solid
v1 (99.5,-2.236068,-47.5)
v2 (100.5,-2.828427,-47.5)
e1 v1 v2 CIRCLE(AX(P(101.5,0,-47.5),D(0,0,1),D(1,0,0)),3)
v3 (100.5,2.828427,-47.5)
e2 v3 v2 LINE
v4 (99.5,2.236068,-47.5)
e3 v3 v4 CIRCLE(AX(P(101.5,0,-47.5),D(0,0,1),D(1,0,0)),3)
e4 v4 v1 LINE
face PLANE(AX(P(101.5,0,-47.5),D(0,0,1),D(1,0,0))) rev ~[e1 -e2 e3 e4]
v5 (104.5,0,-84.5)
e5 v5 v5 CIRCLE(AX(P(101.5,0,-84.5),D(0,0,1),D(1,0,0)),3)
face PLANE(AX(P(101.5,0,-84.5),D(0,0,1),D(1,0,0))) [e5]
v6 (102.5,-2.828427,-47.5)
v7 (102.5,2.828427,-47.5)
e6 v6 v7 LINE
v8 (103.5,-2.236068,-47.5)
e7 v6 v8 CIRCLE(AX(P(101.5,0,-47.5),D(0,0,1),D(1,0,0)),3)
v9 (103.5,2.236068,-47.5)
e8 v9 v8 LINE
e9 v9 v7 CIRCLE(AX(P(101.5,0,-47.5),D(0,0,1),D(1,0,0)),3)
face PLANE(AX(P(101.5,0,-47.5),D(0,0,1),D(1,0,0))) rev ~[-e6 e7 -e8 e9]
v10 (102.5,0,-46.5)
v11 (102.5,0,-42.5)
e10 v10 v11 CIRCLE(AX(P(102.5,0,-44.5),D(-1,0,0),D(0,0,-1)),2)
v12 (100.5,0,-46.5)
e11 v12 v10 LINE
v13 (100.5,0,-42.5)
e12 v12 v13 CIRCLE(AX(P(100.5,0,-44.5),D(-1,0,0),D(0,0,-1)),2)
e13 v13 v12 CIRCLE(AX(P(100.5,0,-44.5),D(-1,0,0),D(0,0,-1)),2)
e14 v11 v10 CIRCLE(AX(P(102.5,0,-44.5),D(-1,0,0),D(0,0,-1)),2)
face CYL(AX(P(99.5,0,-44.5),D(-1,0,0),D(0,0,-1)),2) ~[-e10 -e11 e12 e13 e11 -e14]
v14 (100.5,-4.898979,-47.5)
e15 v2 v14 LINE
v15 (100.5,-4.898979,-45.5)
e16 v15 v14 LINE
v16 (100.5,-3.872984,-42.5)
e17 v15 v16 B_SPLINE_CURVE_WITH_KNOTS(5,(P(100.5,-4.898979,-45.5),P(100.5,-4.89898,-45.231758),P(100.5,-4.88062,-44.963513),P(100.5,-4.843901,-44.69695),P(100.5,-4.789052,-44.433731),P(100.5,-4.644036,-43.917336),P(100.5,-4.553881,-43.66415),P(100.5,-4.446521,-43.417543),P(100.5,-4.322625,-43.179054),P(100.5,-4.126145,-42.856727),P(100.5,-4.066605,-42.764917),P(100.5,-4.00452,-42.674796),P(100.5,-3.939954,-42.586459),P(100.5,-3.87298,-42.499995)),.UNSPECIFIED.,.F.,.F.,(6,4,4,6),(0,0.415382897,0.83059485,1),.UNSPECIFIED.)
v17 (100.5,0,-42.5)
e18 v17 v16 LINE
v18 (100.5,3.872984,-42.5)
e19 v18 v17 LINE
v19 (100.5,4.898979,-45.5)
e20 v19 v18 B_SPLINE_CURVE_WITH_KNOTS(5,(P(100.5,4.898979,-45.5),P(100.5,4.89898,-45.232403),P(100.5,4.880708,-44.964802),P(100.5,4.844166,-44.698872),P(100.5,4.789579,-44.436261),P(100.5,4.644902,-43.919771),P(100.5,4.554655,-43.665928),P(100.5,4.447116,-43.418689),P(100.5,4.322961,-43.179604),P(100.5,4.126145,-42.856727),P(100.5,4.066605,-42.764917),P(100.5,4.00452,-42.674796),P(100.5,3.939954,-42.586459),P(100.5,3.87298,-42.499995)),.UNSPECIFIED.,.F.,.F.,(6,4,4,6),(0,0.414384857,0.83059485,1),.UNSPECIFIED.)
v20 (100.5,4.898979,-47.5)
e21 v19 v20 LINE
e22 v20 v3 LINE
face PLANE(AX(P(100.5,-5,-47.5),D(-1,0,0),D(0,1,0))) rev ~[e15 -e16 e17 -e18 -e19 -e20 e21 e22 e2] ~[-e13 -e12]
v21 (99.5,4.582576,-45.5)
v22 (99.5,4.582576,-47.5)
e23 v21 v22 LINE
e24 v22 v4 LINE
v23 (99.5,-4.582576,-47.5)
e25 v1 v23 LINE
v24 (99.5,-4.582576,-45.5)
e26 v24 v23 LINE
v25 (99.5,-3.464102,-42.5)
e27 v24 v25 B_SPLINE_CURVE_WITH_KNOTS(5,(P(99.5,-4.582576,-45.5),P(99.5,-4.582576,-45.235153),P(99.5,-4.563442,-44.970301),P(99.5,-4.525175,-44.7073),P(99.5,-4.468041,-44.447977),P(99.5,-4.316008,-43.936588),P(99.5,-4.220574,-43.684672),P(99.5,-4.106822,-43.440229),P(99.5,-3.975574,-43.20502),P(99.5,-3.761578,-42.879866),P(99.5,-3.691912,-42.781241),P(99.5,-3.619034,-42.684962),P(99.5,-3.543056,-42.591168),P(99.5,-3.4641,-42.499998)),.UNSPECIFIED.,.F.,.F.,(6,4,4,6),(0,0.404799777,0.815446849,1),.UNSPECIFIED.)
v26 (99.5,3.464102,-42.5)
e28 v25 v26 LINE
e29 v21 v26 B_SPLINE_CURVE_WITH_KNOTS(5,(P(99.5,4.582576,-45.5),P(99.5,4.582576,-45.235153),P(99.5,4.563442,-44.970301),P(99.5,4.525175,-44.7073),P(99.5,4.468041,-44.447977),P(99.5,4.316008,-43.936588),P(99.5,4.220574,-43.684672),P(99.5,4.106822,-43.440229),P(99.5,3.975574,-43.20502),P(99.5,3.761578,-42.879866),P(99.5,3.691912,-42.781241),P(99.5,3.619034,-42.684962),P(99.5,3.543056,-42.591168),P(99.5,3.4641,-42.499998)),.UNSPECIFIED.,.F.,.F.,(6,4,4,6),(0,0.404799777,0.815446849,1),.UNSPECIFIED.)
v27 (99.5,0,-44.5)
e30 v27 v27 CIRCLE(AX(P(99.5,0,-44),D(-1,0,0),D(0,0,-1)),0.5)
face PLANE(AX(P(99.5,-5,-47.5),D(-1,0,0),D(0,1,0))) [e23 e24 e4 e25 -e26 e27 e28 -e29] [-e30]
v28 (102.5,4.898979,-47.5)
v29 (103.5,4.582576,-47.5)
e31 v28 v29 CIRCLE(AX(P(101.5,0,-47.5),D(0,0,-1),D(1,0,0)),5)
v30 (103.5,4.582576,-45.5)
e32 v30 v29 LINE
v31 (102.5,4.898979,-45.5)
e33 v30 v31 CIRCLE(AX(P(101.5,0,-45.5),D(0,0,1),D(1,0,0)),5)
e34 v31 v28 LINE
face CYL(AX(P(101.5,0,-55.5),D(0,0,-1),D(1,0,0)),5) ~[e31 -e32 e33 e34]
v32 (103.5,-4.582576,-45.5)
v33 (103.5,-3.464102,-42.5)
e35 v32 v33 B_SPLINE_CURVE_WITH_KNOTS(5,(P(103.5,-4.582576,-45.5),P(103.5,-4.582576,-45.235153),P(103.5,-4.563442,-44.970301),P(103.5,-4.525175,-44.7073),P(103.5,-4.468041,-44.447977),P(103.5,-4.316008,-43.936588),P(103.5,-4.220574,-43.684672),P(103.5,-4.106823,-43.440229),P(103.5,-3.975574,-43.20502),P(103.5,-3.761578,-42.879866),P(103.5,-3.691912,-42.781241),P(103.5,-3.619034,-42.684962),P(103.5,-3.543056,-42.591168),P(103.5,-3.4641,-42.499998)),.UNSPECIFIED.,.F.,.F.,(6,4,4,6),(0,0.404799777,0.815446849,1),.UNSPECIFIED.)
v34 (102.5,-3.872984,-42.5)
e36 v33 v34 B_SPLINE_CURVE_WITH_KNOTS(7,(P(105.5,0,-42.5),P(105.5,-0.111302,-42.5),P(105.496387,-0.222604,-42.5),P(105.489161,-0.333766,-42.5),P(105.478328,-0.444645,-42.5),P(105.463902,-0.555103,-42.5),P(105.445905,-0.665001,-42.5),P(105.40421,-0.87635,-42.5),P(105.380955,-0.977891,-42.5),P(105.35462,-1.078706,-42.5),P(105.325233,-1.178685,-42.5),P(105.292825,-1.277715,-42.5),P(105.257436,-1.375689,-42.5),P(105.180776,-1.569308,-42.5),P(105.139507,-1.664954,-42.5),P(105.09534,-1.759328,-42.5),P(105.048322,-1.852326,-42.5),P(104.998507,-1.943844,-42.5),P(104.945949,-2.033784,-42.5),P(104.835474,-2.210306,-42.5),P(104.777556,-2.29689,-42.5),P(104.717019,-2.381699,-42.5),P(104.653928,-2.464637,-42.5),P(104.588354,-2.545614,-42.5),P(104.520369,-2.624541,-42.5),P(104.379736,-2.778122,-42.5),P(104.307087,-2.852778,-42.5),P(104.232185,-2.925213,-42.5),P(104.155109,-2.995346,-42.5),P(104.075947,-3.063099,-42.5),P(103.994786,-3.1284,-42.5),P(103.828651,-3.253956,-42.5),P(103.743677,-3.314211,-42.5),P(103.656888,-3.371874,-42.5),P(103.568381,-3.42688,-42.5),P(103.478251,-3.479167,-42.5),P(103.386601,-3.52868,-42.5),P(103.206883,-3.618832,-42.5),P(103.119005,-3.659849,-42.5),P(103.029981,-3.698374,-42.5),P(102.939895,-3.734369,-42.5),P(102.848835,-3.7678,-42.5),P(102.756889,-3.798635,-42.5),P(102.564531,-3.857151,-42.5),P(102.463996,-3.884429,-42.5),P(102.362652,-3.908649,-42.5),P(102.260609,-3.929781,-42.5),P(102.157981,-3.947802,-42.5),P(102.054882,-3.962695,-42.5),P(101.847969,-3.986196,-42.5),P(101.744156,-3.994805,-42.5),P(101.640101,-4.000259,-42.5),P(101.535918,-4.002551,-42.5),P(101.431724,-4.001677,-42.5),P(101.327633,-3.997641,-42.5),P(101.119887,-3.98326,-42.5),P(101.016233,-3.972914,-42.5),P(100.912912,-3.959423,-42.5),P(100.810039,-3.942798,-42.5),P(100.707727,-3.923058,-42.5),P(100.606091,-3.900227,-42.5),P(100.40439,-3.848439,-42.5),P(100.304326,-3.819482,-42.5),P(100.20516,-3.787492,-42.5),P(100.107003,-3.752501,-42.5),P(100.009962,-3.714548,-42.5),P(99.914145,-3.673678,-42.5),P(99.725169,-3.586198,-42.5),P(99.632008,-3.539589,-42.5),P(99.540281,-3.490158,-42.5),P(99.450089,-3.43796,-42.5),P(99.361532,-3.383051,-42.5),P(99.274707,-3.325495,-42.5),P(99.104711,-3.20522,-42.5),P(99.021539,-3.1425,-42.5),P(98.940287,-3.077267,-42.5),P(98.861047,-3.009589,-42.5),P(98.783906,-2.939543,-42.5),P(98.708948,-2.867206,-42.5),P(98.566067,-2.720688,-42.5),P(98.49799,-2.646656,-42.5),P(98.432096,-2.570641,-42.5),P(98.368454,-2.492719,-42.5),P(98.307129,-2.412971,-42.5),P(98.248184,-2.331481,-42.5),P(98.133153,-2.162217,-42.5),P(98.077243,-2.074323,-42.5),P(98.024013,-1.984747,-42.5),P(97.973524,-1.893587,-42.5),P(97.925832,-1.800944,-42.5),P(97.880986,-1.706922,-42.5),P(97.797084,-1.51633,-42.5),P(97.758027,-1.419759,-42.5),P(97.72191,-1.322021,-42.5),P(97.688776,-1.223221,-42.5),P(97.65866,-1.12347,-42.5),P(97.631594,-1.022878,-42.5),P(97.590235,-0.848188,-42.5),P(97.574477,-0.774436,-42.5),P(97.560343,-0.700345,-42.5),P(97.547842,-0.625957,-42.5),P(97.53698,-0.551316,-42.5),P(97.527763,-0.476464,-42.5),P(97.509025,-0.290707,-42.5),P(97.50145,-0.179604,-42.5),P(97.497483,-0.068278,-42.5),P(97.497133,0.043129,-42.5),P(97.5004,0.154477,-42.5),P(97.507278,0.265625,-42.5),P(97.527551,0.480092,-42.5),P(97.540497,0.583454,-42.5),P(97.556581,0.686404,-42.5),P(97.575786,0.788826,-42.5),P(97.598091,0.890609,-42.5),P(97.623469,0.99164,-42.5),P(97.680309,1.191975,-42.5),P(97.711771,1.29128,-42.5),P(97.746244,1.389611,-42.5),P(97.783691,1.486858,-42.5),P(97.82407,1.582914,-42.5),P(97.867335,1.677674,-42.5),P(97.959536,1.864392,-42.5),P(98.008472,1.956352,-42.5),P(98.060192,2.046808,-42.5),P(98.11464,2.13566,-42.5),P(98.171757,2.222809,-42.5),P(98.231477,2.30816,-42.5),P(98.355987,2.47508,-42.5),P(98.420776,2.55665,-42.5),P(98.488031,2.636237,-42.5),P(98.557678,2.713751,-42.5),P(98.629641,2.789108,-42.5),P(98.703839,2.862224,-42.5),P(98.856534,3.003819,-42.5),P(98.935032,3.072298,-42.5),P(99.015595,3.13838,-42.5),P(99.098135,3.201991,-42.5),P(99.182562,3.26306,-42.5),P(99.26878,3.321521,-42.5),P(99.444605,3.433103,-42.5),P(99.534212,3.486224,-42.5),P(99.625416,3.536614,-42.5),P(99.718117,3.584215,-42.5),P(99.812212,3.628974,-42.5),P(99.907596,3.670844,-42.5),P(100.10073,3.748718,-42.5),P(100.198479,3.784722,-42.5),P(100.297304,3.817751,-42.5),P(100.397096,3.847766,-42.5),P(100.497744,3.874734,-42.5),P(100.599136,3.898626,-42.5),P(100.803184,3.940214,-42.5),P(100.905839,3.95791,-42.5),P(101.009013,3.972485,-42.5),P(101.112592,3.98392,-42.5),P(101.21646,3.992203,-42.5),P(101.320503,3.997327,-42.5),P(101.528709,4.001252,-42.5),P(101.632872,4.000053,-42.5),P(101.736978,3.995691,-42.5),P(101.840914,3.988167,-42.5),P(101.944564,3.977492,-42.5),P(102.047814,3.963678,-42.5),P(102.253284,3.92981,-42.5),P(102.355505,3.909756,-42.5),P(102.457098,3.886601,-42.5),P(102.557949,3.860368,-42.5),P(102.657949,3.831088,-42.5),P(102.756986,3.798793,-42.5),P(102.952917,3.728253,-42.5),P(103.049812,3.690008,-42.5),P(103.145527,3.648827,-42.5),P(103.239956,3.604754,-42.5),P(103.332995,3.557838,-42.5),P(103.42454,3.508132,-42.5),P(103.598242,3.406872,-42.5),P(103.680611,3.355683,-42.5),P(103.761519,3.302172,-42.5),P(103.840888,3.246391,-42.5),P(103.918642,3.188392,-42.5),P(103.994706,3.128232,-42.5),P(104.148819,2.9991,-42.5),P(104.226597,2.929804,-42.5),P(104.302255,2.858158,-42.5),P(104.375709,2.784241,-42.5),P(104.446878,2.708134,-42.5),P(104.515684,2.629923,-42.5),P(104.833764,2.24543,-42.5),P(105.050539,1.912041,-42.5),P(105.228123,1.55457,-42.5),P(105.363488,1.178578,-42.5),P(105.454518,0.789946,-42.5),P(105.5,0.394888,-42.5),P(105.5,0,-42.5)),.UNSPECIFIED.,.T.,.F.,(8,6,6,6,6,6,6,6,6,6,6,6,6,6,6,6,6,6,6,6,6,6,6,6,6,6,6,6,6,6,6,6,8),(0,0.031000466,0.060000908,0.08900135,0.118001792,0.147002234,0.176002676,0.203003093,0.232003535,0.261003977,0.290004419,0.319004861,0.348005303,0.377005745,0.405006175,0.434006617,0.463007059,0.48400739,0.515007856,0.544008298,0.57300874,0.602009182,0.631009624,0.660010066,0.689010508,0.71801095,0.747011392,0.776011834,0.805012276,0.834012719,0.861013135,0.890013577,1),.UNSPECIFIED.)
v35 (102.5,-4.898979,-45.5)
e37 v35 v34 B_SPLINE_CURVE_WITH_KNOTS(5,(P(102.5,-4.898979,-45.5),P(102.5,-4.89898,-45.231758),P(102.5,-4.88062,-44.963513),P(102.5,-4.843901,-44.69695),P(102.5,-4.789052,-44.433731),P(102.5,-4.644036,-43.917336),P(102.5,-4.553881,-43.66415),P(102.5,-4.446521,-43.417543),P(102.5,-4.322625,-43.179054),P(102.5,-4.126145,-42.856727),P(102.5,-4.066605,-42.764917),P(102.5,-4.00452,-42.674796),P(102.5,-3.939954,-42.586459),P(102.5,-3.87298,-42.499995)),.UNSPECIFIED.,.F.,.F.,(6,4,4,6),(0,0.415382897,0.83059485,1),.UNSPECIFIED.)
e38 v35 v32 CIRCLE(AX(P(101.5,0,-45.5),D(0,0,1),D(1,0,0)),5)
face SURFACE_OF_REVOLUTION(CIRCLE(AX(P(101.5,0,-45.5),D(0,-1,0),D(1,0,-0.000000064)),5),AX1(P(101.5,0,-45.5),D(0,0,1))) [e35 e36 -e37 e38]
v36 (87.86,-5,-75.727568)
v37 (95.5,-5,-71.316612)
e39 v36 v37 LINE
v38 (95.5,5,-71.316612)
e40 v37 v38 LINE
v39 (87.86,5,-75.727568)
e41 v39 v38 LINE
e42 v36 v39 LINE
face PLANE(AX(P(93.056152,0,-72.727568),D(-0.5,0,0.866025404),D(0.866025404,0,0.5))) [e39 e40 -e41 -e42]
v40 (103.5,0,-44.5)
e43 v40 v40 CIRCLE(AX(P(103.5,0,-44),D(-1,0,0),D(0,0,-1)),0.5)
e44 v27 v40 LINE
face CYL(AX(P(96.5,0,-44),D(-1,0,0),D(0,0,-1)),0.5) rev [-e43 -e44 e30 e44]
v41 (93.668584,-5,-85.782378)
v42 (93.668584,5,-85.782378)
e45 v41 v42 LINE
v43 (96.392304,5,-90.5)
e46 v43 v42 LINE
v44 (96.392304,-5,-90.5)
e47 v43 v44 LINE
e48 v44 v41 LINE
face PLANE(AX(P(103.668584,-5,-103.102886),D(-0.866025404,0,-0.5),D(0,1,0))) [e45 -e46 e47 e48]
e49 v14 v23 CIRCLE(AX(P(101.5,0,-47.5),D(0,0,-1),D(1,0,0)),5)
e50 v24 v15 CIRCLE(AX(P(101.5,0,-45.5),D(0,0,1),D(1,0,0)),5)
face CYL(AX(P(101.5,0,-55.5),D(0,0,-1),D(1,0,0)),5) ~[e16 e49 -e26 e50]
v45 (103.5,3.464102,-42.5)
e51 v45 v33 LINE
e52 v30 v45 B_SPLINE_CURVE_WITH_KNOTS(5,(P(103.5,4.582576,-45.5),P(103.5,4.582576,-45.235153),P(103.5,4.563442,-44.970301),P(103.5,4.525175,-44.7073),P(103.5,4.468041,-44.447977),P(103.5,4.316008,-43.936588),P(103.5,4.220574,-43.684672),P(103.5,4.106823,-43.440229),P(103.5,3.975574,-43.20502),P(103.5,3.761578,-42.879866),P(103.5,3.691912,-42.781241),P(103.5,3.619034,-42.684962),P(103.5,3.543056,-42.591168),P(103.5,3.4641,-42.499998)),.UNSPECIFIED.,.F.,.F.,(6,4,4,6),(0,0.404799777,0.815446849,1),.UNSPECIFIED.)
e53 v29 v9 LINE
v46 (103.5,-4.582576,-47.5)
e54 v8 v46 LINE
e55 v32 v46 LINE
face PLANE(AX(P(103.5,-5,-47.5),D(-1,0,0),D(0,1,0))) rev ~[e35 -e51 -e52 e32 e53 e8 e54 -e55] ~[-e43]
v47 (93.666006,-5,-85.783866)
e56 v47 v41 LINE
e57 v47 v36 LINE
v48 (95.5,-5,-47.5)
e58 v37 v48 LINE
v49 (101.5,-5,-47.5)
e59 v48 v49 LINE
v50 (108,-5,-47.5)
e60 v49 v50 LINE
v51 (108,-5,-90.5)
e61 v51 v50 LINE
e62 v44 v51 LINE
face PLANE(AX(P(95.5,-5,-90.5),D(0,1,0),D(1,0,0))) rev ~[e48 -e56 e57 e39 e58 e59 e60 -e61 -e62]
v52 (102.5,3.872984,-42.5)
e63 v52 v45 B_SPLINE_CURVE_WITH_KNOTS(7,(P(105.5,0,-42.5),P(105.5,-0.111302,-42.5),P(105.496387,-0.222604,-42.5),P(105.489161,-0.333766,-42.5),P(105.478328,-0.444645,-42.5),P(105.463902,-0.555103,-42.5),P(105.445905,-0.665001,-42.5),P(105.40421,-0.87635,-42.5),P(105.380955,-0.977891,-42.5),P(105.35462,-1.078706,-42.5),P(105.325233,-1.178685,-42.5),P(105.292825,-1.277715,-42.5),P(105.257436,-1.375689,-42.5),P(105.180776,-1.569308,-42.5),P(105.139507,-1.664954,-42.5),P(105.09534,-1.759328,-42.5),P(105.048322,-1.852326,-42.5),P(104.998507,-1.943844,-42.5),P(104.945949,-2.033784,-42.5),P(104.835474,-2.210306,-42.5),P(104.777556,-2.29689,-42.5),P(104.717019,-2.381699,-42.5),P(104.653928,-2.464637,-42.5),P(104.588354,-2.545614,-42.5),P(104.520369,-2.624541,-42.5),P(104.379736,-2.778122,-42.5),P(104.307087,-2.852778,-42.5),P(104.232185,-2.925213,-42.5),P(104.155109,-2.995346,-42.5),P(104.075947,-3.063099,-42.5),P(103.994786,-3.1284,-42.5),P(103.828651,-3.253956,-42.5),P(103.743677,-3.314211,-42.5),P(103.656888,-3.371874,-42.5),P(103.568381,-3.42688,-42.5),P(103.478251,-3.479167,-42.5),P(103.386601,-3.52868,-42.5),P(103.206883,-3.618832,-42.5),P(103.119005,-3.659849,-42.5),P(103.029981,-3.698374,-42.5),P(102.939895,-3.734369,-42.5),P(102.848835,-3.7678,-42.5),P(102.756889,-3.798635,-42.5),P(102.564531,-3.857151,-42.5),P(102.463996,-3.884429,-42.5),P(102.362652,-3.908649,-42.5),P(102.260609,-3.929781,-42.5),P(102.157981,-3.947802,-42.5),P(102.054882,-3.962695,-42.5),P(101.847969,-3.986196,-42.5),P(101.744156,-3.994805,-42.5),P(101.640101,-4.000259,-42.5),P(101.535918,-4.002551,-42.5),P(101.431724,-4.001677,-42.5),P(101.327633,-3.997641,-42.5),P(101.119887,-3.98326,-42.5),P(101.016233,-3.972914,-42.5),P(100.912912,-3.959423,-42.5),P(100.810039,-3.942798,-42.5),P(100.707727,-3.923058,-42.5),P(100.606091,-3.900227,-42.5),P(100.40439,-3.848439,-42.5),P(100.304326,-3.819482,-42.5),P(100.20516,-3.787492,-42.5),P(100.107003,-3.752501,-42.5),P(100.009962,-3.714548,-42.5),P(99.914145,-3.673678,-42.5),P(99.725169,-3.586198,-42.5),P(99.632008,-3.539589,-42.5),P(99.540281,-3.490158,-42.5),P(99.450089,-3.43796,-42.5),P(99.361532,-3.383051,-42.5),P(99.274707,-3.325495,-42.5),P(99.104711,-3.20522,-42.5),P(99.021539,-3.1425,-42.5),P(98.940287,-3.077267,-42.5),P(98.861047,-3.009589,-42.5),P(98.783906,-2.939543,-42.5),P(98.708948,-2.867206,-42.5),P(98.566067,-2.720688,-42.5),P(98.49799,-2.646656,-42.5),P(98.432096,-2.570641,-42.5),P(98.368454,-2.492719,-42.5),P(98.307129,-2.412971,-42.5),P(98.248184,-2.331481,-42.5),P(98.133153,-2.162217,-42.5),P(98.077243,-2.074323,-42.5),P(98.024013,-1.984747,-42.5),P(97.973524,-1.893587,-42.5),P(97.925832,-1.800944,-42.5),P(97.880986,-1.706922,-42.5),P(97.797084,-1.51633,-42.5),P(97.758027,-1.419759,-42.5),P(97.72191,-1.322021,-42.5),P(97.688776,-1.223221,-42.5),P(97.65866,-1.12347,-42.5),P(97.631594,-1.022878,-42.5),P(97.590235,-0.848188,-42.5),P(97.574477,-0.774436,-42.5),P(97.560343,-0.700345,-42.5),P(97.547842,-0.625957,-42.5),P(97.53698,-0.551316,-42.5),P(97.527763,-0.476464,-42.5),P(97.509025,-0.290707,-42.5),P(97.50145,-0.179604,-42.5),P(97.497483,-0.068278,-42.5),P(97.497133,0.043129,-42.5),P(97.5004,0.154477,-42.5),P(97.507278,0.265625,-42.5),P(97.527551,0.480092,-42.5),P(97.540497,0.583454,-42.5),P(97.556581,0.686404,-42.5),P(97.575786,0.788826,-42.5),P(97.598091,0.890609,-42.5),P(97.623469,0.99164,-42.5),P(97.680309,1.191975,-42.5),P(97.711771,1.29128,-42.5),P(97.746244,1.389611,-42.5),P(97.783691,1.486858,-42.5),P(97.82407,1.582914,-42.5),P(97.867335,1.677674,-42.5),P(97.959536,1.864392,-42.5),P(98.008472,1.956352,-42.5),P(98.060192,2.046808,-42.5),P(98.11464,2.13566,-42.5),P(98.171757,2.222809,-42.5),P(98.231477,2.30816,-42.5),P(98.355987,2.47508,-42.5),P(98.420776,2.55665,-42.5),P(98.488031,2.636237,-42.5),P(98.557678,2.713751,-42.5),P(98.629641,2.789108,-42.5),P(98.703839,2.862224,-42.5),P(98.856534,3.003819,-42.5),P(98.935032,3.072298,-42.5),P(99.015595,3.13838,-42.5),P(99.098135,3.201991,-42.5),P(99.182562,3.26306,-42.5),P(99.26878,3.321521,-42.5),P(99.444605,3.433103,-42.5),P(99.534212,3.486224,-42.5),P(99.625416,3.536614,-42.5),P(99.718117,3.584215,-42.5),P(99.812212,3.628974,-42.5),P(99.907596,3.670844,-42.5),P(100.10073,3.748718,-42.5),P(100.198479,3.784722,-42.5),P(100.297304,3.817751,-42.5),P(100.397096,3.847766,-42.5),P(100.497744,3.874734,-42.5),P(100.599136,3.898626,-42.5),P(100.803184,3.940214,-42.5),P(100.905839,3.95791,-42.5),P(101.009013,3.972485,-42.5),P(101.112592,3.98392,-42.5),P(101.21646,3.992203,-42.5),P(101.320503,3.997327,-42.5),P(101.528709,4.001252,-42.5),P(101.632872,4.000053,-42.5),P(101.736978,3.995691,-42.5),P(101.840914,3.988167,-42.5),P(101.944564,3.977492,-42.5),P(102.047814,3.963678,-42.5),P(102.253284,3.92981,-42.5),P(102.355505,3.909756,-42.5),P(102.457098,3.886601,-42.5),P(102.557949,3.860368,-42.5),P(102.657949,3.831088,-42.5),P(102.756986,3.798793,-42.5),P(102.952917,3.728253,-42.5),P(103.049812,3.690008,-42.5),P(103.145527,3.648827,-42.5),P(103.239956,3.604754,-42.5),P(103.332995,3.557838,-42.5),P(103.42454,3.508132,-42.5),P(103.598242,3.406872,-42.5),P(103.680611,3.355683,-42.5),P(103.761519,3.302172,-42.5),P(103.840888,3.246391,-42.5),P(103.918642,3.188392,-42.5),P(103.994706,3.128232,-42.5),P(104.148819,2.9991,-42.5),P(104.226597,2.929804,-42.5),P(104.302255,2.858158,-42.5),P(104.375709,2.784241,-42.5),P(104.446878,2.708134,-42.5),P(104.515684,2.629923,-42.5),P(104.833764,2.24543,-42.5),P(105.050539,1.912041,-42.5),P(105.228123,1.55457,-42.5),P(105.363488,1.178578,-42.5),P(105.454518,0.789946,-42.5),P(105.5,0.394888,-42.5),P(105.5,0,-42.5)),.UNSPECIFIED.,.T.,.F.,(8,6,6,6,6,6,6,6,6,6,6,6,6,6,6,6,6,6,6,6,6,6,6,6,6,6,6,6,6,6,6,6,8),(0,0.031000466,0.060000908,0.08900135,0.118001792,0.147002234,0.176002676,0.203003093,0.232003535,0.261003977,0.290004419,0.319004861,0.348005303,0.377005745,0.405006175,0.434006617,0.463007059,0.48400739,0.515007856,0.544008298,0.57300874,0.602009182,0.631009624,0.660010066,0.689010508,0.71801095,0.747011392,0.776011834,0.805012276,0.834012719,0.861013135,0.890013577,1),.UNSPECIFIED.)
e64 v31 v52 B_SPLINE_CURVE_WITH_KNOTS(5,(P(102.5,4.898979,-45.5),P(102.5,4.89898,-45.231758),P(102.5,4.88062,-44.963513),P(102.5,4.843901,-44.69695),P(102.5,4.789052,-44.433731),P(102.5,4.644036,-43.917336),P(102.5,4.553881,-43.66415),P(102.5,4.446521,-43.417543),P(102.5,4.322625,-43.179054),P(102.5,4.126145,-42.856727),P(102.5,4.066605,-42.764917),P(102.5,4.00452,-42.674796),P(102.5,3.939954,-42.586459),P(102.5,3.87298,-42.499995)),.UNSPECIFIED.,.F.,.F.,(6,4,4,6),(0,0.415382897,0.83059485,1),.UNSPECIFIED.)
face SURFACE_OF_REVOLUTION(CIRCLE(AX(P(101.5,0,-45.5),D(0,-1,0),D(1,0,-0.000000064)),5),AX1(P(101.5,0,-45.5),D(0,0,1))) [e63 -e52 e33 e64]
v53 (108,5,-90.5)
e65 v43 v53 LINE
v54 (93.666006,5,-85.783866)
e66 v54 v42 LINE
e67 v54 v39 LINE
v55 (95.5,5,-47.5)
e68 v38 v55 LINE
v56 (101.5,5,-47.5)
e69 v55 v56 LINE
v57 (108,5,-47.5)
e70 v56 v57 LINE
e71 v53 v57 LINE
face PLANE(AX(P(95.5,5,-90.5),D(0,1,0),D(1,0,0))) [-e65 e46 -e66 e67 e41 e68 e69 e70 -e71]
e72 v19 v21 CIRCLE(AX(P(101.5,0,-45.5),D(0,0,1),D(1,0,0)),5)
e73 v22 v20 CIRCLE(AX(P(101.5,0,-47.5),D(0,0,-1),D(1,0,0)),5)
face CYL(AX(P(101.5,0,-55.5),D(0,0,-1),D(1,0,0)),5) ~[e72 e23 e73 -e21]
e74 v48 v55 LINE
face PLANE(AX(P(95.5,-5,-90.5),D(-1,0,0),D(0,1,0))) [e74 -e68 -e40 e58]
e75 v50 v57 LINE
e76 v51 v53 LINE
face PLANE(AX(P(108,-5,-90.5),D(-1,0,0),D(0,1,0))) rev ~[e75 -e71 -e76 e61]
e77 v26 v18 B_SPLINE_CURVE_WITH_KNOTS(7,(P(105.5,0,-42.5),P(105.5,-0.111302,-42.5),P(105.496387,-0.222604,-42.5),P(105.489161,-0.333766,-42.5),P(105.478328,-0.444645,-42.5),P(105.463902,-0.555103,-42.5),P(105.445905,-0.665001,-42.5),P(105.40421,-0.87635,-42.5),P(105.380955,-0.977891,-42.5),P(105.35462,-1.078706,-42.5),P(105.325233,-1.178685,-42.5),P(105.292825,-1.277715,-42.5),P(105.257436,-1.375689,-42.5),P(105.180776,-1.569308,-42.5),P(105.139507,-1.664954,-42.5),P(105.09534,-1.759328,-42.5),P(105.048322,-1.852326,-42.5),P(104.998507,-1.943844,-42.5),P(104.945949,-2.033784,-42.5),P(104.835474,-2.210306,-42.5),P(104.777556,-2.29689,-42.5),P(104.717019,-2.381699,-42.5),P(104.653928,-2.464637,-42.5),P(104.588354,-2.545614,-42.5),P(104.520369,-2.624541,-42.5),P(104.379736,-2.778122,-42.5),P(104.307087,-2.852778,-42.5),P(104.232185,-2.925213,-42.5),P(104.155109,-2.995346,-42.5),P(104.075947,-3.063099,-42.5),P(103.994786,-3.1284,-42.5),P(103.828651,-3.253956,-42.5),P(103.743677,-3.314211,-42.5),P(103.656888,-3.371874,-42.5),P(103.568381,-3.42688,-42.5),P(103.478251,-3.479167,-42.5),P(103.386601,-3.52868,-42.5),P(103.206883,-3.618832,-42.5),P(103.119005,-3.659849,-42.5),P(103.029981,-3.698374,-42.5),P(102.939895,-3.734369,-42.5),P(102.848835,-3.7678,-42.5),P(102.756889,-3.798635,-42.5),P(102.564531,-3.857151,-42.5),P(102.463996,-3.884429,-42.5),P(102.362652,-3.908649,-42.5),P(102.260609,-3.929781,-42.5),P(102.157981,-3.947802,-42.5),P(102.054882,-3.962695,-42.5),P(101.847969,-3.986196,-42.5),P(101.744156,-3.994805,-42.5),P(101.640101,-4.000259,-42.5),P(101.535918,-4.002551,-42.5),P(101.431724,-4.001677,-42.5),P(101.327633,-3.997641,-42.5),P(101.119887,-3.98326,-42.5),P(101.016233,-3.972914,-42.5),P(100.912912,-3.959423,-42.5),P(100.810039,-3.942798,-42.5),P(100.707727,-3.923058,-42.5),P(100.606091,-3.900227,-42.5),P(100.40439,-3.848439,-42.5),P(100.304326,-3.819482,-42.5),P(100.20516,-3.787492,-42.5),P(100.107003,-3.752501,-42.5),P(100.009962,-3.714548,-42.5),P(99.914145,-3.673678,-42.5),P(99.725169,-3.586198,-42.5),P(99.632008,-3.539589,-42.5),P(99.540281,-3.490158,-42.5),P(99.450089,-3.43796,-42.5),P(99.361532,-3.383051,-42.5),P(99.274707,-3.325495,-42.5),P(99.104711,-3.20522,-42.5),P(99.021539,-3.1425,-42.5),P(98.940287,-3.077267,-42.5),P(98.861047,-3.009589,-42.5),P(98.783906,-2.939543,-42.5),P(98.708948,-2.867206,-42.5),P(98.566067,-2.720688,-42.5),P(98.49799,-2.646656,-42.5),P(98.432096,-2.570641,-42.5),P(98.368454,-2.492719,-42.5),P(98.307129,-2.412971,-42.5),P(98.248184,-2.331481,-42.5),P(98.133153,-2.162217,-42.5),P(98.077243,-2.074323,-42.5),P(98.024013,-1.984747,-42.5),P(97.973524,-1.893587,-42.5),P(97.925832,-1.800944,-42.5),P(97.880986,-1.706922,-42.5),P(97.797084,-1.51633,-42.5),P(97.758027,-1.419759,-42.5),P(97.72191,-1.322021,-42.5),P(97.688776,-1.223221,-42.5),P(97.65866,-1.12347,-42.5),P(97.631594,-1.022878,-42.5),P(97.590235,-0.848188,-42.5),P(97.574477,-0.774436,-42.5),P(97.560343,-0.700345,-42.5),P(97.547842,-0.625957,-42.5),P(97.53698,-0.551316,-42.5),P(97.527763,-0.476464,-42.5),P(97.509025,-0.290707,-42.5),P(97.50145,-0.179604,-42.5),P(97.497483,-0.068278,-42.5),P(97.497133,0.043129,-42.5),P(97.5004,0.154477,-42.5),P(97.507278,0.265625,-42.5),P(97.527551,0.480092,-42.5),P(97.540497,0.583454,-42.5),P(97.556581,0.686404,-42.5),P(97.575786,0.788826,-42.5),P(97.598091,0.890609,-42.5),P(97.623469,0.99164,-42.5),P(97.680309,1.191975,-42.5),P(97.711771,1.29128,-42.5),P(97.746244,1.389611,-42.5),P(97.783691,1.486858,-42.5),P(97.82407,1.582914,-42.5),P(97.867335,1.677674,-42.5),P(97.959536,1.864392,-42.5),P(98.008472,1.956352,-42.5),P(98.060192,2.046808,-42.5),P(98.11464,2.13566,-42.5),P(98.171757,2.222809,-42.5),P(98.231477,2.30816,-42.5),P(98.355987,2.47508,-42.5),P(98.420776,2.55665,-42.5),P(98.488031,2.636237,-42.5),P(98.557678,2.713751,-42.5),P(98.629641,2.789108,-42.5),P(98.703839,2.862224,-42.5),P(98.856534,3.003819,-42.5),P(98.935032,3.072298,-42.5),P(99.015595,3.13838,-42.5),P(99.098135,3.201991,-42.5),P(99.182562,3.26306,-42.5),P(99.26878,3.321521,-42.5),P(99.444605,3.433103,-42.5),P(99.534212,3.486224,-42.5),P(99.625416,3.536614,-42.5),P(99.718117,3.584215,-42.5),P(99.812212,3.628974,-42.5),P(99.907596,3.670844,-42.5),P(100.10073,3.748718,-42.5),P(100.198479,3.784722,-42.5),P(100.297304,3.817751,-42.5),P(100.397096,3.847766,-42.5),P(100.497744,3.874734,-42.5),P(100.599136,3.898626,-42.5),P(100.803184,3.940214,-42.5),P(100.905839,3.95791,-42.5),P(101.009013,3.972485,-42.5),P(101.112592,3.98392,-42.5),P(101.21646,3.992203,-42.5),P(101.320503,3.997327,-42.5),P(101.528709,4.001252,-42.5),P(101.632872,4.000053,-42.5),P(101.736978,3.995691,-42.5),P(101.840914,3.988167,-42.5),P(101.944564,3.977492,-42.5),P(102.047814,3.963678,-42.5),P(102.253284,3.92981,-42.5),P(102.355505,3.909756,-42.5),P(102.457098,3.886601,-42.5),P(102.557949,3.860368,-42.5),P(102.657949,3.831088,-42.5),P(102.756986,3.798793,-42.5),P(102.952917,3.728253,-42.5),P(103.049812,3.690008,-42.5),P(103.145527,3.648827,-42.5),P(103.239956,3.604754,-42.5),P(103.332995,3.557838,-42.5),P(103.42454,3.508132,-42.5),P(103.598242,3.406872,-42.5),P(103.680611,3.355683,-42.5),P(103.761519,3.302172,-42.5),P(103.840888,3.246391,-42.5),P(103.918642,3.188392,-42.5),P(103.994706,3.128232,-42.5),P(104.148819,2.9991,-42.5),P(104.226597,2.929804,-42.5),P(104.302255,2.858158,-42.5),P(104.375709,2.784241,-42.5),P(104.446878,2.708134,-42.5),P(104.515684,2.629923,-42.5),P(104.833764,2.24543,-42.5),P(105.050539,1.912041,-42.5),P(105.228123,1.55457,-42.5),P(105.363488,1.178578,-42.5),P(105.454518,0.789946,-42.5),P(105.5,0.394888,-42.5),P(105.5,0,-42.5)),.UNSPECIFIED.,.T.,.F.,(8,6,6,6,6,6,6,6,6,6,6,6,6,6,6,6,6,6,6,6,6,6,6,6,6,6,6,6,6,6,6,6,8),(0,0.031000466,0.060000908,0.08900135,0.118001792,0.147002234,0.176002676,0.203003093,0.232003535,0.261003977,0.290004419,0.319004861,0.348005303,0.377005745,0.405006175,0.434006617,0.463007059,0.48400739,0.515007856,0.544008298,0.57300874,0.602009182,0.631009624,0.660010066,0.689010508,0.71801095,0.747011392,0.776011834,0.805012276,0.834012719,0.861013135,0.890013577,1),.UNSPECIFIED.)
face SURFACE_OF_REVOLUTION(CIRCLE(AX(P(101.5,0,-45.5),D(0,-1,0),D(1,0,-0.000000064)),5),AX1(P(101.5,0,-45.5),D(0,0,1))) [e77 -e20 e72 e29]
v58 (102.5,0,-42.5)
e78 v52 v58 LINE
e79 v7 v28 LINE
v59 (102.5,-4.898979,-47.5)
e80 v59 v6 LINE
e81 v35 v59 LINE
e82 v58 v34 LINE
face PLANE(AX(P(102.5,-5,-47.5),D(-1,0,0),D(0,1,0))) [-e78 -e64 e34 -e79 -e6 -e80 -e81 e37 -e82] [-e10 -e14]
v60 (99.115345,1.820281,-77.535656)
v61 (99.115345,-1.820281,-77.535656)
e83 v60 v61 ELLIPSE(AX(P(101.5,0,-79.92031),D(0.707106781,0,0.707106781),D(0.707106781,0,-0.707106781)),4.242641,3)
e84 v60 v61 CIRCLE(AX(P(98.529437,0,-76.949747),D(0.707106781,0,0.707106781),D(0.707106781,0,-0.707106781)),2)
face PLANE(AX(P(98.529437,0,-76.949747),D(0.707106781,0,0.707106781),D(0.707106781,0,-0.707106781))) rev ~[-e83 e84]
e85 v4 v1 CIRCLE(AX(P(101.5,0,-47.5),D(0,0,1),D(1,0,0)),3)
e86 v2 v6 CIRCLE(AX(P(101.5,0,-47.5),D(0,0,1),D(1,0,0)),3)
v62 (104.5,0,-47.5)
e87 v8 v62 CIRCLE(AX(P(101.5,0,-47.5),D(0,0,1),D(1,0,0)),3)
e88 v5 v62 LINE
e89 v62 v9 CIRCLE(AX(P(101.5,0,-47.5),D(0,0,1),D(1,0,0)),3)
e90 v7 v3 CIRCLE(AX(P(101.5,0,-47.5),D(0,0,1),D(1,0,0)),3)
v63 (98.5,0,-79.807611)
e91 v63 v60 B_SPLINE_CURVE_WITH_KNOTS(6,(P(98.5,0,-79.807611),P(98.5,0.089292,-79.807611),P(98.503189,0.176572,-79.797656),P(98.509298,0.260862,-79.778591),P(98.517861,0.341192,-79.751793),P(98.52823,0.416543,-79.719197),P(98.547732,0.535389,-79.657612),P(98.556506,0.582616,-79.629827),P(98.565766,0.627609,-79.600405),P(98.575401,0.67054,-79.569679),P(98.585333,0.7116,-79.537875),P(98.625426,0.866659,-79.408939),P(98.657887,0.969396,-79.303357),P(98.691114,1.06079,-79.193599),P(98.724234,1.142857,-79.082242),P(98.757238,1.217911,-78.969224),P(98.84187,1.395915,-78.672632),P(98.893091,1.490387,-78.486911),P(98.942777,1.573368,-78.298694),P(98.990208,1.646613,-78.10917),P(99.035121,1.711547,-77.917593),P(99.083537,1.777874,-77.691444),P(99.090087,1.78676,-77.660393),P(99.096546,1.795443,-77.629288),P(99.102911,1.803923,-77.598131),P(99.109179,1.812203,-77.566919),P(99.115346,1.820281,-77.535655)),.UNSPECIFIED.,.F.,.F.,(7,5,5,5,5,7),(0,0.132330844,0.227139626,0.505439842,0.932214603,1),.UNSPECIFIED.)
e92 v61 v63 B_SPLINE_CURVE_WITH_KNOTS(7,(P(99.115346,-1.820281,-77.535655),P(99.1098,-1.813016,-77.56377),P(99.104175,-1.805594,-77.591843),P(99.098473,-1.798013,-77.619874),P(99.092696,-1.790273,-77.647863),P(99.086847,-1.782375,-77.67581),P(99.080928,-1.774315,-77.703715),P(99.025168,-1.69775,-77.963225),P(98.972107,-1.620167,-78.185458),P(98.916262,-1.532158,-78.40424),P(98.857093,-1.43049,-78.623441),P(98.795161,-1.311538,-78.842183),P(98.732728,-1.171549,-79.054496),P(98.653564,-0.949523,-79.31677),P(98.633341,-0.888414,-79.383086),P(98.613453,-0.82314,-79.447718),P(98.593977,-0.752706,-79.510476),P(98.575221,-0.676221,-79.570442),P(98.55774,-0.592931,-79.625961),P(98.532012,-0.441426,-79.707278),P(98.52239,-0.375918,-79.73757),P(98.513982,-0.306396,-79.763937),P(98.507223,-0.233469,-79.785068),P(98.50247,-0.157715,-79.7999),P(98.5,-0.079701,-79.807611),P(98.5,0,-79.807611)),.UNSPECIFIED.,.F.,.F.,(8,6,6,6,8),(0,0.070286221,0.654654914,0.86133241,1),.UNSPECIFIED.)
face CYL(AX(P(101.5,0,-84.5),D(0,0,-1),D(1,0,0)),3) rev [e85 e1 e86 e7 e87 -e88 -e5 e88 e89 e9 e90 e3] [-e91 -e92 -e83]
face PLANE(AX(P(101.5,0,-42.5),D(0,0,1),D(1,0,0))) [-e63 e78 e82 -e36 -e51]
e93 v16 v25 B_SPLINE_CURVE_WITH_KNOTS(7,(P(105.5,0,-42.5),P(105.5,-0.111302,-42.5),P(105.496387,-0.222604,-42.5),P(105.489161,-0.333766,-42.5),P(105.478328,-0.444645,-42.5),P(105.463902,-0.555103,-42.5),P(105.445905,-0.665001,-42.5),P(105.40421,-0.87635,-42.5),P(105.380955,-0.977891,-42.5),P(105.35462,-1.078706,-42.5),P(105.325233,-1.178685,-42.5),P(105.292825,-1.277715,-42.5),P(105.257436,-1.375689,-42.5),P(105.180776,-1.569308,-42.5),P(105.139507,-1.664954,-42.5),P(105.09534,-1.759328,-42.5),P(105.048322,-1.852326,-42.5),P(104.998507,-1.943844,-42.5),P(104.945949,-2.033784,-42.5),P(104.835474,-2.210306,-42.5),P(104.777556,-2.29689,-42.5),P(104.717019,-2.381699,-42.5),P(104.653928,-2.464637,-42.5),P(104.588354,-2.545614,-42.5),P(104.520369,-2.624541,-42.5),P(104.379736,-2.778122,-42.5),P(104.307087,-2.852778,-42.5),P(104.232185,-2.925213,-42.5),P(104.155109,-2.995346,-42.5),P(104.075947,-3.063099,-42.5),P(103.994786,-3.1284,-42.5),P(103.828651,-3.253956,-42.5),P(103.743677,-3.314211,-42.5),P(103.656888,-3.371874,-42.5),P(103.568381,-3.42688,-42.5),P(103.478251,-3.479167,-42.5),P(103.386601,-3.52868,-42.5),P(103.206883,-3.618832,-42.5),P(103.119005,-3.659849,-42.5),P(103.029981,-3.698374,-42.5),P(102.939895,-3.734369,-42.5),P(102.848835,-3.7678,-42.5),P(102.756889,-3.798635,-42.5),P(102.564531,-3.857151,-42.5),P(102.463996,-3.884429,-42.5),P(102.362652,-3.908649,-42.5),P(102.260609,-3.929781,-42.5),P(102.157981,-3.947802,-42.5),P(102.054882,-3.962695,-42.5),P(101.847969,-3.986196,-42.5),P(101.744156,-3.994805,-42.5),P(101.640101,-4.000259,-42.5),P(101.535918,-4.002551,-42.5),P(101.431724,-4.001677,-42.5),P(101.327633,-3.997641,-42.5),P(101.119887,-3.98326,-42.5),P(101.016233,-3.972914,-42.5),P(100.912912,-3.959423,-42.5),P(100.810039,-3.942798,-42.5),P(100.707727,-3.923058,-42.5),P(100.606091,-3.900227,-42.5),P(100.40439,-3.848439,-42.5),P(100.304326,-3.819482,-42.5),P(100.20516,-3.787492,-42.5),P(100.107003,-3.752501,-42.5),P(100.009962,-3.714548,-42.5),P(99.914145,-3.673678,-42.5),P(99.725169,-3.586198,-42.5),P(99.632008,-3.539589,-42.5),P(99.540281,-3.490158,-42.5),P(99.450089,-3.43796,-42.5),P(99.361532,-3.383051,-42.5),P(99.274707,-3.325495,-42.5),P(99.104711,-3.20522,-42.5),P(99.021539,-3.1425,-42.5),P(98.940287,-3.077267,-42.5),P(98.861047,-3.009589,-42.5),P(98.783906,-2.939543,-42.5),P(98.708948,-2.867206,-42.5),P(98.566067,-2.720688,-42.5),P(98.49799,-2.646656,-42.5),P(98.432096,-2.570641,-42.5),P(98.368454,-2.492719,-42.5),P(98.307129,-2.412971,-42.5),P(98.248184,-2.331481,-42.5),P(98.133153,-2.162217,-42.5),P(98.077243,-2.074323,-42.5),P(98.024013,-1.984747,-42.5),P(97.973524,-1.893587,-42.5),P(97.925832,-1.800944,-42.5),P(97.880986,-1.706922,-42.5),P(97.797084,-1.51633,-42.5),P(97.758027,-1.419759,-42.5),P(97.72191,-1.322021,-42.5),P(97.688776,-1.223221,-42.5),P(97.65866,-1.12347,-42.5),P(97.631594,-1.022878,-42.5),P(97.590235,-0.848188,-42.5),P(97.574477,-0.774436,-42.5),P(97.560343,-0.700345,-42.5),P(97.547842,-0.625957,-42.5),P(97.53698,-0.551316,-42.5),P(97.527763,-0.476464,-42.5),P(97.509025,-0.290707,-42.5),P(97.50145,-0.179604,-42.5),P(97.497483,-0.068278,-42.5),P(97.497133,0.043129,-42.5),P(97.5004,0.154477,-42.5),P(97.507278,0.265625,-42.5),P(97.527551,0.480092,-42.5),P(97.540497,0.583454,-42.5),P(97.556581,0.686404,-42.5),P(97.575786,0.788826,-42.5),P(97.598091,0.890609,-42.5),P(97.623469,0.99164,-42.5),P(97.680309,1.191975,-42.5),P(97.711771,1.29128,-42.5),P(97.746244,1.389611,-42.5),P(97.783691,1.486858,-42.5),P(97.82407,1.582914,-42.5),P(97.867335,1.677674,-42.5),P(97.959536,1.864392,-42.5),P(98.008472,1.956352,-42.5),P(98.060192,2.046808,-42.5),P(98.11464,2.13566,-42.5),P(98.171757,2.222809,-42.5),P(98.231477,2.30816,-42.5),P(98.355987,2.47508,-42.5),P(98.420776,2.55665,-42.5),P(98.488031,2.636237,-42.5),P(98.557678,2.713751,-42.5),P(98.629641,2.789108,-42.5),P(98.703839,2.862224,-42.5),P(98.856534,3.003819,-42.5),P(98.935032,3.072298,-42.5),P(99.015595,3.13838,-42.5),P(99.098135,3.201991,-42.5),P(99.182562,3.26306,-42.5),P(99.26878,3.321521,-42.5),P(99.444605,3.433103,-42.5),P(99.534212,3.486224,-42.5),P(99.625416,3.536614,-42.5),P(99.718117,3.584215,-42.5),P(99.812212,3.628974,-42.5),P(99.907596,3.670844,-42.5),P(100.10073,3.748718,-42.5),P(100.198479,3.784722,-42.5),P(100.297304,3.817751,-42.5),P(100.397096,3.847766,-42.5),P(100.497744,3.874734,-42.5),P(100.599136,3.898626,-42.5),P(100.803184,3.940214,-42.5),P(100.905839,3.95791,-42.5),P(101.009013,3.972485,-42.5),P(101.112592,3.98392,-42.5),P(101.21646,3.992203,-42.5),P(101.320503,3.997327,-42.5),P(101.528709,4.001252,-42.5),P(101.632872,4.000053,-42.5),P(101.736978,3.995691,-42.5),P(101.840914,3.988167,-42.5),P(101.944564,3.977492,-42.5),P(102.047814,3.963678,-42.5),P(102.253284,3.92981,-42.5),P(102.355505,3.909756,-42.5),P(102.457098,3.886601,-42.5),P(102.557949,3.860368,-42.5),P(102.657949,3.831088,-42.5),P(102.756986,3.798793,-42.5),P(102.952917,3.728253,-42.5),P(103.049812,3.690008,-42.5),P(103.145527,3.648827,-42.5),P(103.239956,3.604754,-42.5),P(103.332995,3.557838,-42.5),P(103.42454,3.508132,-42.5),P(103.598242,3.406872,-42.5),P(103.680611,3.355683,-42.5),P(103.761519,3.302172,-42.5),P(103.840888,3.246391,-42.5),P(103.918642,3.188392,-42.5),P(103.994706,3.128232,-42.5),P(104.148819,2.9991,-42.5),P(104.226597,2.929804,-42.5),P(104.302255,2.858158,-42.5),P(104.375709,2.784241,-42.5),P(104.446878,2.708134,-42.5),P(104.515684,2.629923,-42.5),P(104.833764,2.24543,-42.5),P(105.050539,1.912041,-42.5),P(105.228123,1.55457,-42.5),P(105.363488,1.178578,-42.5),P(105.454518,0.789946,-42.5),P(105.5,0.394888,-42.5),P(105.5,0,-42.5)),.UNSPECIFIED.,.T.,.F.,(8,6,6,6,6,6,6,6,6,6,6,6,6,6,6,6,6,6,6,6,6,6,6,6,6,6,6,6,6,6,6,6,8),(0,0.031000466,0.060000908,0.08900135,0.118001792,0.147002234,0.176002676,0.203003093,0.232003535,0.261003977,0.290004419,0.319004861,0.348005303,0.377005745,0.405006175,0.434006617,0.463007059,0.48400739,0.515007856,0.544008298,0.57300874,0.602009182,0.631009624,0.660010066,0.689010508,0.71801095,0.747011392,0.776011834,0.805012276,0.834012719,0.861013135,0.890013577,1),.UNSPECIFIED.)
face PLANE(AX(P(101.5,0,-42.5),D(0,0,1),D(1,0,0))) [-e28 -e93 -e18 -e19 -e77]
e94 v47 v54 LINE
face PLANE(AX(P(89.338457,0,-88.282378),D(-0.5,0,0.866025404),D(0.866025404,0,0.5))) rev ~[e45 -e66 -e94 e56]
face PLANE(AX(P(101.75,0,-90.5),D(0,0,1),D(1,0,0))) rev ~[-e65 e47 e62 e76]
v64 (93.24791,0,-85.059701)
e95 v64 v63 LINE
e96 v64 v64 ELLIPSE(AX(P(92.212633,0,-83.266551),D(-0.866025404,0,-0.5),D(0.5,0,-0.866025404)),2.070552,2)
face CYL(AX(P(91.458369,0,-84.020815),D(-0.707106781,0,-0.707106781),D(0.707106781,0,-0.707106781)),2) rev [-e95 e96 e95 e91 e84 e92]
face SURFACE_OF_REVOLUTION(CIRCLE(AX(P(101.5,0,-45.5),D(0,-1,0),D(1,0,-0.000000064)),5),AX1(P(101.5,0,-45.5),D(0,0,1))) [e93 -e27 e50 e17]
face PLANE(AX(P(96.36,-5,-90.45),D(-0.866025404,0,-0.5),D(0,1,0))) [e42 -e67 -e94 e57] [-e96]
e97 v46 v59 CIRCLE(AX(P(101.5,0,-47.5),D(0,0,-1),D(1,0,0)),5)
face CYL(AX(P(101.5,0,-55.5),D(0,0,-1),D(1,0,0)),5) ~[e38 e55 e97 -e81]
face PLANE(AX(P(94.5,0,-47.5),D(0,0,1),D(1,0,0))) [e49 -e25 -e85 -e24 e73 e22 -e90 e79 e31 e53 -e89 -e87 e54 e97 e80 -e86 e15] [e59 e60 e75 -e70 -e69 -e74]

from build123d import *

# Parameters (mm, degrees)
CYLINDER259_R               = 2
CYLINDER259_DEPTH           = 10
CYLINDER259_PLACEMENT_ANGLE = 45
CYLINDER258_R               = 3
CYLINDER258_DEPTH           = 37
CYLINDER254_R               = 0.5
CYLINDER254_DEPTH           = 10
CYLINDER253_R               = 2
CYLINDER253_DEPTH           = 4
CYLINDER257_R               = 3
CYLINDER257_DEPTH           = 10
BOX138_W                    = 10
BOX138_H                    = 10
BOX138_DEPTH                = 10
BOX136_W                    = 2
BOX136_H                    = 10
BOX136_DEPTH                = 10
BOX137_W                    = 10
BOX137_H                    = 10
BOX137_DEPTH                = 10
CYLINDER256_R               = 5
CYLINDER256_DEPTH           = 10
CYLINDER255_R               = 5
CYLINDER255_DEPTH           = 10
BOX133_W                    = 10
BOX133_H                    = 10
BOX133_DEPTH                = 20
BOX133_PLACEMENT_ANGLE      = 30
BOX134_W                    = 12
BOX134_H                    = 10
BOX134_DEPTH                = 17
BOX134_PLACEMENT_ANGLE      = 30
BOX135_W                    = 12.5
BOX135_H                    = 10
BOX135_DEPTH                = 43


with BuildPart() as cylinder259:
    # Cylinder259 → Cylinder259 (new body)
    with BuildSketch(Plane.XY):
        Circle(CYLINDER259_R)
    extrude(amount=CYLINDER259_DEPTH)


with BuildPart() as cylinder259_1:
    # Cylinder259 placement: moved
    add(cylinder259.part.moved(Location((-62.041631, 0, -84.020815))).rotate(Axis((-62.041631, 0, -84.020815), (0, 1, 0)), CYLINDER259_PLACEMENT_ANGLE))


with BuildPart() as cylinder258:
    # Cylinder258 → Cylinder258 (new body)
    with BuildSketch(Plane(origin=(-52, 0, -84.5), x_dir=(1, 0, 0), z_dir=(0, 0, 1))):
        Circle(CYLINDER258_R)
    extrude(amount=CYLINDER258_DEPTH)


with BuildPart() as cylinder254:
    # Cylinder254 → Cylinder254 (new body)
    with BuildSketch(Plane(origin=(-5, 0, -7), x_dir=(0, 0, -1), z_dir=(1, 0, 0))):
        Circle(CYLINDER254_R)
    extrude(amount=CYLINDER254_DEPTH)


with BuildPart() as cylinder253:
    # Cylinder253 → Cylinder253 (new body)
    with BuildSketch(Plane(origin=(-2, -50, 1), x_dir=(0, 0, -1), z_dir=(1, 0, 0))):
        Circle(CYLINDER253_R)
    extrude(amount=CYLINDER253_DEPTH)


with BuildPart() as cylinder257:
    # Cylinder257 → Cylinder257 (new body)
    with BuildSketch(Plane(origin=(0, -50, -12), x_dir=(1, 0, 0), z_dir=(0, 0, 1))):
        Circle(CYLINDER257_R)
    extrude(amount=CYLINDER257_DEPTH)


with BuildPart() as cube138:
    # Box138 → Box138 (new body)
    with BuildSketch(Plane(origin=(-12, -55, -2), x_dir=(1, 0, 0), z_dir=(0, 0, 1))):
        with Locations((5, 5)):
            Rectangle(BOX138_W, BOX138_H)
    extrude(amount=BOX138_DEPTH)


with BuildPart() as cube136:
    # Box136 → Box136 (new body)
    with BuildSketch(Plane(origin=(-1, -55, -2), x_dir=(1, 0, 0), z_dir=(0, 0, 1))):
        with Locations((1, 5)):
            Rectangle(BOX136_W, BOX136_H)
    extrude(amount=BOX136_DEPTH)


with BuildPart() as cube137:
    # Box137 → Box137 (new body)
    with BuildSketch(Plane(origin=(2, -55, -2), x_dir=(1, 0, 0), z_dir=(0, 0, 1))):
        with Locations((5, 5)):
            Rectangle(BOX137_W, BOX137_H)
    extrude(amount=BOX137_DEPTH)


with BuildPart() as cylinder256:
    # Cylinder256 → Cylinder256 (new body)
    with BuildSketch(Plane(origin=(0, -50, -10), x_dir=(1, 0, 0), z_dir=(0, 0, 1))):
        Circle(CYLINDER256_R)
    extrude(amount=CYLINDER256_DEPTH)


with BuildPart() as sphere049:
    # Sphere049 → Sphere049 (revolve)
    with BuildSketch(Plane.XZ.offset(50)):
        with BuildLine():
            ThreePointArc((5, 0), (3.535534, 3.535534), (0, 5))
            Line((0, 5), (0, 0))
            Line((0, 0), (5, 0))
        make_face()
    revolve(axis=Axis((0, -50, 0), (0, 0, 1)))


with BuildPart() as cut204006062:
    # Cylinder255 → Cylinder255 (new body)
    with BuildSketch(Plane(origin=(0, -50, -7), x_dir=(1, 0, 0), z_dir=(0, 0, 1))):
        Circle(CYLINDER255_R)
    extrude(amount=CYLINDER255_DEPTH)

    # Common042: intersect Sphere049
    add(sphere049.part, mode=Mode.INTERSECT)

    # Fusion005077020026: union Cylinder256
    add(cylinder256.part)

    # Cut204006061: cut Cube137
    add(cube137.part, mode=Mode.SUBTRACT)

    # Cut204006063: cut Cube136
    add(cube136.part, mode=Mode.SUBTRACT)

    # Cut204006064: cut Cube138
    add(cube138.part, mode=Mode.SUBTRACT)

    # Cut204006060: cut Cylinder257
    add(cylinder257.part, mode=Mode.SUBTRACT)

    # Fusion005077020025: union Cylinder253
    add(cylinder253.part)


with BuildPart() as cut204006062_1:
    # Fusion005077020027 placement: moved
    add(cut204006062.part.moved(Location((0, 50, -8.5))))

    # Cut204006062: cut Cylinder254
    add(cylinder254.part, mode=Mode.SUBTRACT)


with BuildPart() as cut204006062_2:
    # Cut204006062 placement: moved
    add(cut204006062_1.part.moved(Location((-52, 0, -37))))


with BuildPart() as cube133:
    # Box133 → Box133 (new body)
    with BuildSketch(Plane.XY):
        with Locations((5, 5)):
            Rectangle(BOX133_W, BOX133_H)
    extrude(amount=BOX133_DEPTH)


with BuildPart() as cube133_1:
    # Box133 placement: moved
    add(cube133.part.moved(Location((-168.49167, -5, -108.102886))).rotate(Axis((-168.49167, -5, -108.102886), (0, -1, 0)), BOX133_PLACEMENT_ANGLE))


with BuildPart() as cube134:
    # Box134 → Box134 (new body)
    with BuildSketch(Plane.XY):
        with Locations((6, 5)):
            Rectangle(BOX134_W, BOX134_H)
    extrude(amount=BOX134_DEPTH)


with BuildPart() as cube134_1:
    # Box134 placement: moved
    add(cube134.part.moved(Location((-167.14, -5, -90.45))).rotate(Axis((-167.14, -5, -90.45), (0, -1, 0)), BOX134_PLACEMENT_ANGLE))


with BuildPart() as cut204006066:
    # Box135 → Box135 (new body)
    with BuildSketch(Plane(origin=(-168, -5, -90.5), x_dir=(1, 0, 0), z_dir=(0, 0, 1))):
        with Locations((6.25, 5)):
            Rectangle(BOX135_W, BOX135_H)
    extrude(amount=BOX135_DEPTH)

    # Fusion005077020024: union Cube134
    add(cube134_1.part)

    # Cut204006058: cut Cube133
    add(cube133_1.part, mode=Mode.SUBTRACT)


with BuildPart() as cut204006066_1:
    # Cut204006059 placement: moved
    add(cut204006066.part.moved(Location((110, 0, 0))))

    # Fusion005077020028: union Cut204006062
    add(cut204006062_2.part)

    # Cut204006065: cut Cylinder258
    add(cylinder258.part, mode=Mode.SUBTRACT)

    # Cut204006066: cut Cylinder259
    add(cylinder259_1.part, mode=Mode.SUBTRACT)


with BuildPart() as cut204006066_2:
    # Cut204006066 placement: moved
    add(cut204006066_1.part.moved(Location((153.5, 0, 0))))


solid = cut204006066_2.part
